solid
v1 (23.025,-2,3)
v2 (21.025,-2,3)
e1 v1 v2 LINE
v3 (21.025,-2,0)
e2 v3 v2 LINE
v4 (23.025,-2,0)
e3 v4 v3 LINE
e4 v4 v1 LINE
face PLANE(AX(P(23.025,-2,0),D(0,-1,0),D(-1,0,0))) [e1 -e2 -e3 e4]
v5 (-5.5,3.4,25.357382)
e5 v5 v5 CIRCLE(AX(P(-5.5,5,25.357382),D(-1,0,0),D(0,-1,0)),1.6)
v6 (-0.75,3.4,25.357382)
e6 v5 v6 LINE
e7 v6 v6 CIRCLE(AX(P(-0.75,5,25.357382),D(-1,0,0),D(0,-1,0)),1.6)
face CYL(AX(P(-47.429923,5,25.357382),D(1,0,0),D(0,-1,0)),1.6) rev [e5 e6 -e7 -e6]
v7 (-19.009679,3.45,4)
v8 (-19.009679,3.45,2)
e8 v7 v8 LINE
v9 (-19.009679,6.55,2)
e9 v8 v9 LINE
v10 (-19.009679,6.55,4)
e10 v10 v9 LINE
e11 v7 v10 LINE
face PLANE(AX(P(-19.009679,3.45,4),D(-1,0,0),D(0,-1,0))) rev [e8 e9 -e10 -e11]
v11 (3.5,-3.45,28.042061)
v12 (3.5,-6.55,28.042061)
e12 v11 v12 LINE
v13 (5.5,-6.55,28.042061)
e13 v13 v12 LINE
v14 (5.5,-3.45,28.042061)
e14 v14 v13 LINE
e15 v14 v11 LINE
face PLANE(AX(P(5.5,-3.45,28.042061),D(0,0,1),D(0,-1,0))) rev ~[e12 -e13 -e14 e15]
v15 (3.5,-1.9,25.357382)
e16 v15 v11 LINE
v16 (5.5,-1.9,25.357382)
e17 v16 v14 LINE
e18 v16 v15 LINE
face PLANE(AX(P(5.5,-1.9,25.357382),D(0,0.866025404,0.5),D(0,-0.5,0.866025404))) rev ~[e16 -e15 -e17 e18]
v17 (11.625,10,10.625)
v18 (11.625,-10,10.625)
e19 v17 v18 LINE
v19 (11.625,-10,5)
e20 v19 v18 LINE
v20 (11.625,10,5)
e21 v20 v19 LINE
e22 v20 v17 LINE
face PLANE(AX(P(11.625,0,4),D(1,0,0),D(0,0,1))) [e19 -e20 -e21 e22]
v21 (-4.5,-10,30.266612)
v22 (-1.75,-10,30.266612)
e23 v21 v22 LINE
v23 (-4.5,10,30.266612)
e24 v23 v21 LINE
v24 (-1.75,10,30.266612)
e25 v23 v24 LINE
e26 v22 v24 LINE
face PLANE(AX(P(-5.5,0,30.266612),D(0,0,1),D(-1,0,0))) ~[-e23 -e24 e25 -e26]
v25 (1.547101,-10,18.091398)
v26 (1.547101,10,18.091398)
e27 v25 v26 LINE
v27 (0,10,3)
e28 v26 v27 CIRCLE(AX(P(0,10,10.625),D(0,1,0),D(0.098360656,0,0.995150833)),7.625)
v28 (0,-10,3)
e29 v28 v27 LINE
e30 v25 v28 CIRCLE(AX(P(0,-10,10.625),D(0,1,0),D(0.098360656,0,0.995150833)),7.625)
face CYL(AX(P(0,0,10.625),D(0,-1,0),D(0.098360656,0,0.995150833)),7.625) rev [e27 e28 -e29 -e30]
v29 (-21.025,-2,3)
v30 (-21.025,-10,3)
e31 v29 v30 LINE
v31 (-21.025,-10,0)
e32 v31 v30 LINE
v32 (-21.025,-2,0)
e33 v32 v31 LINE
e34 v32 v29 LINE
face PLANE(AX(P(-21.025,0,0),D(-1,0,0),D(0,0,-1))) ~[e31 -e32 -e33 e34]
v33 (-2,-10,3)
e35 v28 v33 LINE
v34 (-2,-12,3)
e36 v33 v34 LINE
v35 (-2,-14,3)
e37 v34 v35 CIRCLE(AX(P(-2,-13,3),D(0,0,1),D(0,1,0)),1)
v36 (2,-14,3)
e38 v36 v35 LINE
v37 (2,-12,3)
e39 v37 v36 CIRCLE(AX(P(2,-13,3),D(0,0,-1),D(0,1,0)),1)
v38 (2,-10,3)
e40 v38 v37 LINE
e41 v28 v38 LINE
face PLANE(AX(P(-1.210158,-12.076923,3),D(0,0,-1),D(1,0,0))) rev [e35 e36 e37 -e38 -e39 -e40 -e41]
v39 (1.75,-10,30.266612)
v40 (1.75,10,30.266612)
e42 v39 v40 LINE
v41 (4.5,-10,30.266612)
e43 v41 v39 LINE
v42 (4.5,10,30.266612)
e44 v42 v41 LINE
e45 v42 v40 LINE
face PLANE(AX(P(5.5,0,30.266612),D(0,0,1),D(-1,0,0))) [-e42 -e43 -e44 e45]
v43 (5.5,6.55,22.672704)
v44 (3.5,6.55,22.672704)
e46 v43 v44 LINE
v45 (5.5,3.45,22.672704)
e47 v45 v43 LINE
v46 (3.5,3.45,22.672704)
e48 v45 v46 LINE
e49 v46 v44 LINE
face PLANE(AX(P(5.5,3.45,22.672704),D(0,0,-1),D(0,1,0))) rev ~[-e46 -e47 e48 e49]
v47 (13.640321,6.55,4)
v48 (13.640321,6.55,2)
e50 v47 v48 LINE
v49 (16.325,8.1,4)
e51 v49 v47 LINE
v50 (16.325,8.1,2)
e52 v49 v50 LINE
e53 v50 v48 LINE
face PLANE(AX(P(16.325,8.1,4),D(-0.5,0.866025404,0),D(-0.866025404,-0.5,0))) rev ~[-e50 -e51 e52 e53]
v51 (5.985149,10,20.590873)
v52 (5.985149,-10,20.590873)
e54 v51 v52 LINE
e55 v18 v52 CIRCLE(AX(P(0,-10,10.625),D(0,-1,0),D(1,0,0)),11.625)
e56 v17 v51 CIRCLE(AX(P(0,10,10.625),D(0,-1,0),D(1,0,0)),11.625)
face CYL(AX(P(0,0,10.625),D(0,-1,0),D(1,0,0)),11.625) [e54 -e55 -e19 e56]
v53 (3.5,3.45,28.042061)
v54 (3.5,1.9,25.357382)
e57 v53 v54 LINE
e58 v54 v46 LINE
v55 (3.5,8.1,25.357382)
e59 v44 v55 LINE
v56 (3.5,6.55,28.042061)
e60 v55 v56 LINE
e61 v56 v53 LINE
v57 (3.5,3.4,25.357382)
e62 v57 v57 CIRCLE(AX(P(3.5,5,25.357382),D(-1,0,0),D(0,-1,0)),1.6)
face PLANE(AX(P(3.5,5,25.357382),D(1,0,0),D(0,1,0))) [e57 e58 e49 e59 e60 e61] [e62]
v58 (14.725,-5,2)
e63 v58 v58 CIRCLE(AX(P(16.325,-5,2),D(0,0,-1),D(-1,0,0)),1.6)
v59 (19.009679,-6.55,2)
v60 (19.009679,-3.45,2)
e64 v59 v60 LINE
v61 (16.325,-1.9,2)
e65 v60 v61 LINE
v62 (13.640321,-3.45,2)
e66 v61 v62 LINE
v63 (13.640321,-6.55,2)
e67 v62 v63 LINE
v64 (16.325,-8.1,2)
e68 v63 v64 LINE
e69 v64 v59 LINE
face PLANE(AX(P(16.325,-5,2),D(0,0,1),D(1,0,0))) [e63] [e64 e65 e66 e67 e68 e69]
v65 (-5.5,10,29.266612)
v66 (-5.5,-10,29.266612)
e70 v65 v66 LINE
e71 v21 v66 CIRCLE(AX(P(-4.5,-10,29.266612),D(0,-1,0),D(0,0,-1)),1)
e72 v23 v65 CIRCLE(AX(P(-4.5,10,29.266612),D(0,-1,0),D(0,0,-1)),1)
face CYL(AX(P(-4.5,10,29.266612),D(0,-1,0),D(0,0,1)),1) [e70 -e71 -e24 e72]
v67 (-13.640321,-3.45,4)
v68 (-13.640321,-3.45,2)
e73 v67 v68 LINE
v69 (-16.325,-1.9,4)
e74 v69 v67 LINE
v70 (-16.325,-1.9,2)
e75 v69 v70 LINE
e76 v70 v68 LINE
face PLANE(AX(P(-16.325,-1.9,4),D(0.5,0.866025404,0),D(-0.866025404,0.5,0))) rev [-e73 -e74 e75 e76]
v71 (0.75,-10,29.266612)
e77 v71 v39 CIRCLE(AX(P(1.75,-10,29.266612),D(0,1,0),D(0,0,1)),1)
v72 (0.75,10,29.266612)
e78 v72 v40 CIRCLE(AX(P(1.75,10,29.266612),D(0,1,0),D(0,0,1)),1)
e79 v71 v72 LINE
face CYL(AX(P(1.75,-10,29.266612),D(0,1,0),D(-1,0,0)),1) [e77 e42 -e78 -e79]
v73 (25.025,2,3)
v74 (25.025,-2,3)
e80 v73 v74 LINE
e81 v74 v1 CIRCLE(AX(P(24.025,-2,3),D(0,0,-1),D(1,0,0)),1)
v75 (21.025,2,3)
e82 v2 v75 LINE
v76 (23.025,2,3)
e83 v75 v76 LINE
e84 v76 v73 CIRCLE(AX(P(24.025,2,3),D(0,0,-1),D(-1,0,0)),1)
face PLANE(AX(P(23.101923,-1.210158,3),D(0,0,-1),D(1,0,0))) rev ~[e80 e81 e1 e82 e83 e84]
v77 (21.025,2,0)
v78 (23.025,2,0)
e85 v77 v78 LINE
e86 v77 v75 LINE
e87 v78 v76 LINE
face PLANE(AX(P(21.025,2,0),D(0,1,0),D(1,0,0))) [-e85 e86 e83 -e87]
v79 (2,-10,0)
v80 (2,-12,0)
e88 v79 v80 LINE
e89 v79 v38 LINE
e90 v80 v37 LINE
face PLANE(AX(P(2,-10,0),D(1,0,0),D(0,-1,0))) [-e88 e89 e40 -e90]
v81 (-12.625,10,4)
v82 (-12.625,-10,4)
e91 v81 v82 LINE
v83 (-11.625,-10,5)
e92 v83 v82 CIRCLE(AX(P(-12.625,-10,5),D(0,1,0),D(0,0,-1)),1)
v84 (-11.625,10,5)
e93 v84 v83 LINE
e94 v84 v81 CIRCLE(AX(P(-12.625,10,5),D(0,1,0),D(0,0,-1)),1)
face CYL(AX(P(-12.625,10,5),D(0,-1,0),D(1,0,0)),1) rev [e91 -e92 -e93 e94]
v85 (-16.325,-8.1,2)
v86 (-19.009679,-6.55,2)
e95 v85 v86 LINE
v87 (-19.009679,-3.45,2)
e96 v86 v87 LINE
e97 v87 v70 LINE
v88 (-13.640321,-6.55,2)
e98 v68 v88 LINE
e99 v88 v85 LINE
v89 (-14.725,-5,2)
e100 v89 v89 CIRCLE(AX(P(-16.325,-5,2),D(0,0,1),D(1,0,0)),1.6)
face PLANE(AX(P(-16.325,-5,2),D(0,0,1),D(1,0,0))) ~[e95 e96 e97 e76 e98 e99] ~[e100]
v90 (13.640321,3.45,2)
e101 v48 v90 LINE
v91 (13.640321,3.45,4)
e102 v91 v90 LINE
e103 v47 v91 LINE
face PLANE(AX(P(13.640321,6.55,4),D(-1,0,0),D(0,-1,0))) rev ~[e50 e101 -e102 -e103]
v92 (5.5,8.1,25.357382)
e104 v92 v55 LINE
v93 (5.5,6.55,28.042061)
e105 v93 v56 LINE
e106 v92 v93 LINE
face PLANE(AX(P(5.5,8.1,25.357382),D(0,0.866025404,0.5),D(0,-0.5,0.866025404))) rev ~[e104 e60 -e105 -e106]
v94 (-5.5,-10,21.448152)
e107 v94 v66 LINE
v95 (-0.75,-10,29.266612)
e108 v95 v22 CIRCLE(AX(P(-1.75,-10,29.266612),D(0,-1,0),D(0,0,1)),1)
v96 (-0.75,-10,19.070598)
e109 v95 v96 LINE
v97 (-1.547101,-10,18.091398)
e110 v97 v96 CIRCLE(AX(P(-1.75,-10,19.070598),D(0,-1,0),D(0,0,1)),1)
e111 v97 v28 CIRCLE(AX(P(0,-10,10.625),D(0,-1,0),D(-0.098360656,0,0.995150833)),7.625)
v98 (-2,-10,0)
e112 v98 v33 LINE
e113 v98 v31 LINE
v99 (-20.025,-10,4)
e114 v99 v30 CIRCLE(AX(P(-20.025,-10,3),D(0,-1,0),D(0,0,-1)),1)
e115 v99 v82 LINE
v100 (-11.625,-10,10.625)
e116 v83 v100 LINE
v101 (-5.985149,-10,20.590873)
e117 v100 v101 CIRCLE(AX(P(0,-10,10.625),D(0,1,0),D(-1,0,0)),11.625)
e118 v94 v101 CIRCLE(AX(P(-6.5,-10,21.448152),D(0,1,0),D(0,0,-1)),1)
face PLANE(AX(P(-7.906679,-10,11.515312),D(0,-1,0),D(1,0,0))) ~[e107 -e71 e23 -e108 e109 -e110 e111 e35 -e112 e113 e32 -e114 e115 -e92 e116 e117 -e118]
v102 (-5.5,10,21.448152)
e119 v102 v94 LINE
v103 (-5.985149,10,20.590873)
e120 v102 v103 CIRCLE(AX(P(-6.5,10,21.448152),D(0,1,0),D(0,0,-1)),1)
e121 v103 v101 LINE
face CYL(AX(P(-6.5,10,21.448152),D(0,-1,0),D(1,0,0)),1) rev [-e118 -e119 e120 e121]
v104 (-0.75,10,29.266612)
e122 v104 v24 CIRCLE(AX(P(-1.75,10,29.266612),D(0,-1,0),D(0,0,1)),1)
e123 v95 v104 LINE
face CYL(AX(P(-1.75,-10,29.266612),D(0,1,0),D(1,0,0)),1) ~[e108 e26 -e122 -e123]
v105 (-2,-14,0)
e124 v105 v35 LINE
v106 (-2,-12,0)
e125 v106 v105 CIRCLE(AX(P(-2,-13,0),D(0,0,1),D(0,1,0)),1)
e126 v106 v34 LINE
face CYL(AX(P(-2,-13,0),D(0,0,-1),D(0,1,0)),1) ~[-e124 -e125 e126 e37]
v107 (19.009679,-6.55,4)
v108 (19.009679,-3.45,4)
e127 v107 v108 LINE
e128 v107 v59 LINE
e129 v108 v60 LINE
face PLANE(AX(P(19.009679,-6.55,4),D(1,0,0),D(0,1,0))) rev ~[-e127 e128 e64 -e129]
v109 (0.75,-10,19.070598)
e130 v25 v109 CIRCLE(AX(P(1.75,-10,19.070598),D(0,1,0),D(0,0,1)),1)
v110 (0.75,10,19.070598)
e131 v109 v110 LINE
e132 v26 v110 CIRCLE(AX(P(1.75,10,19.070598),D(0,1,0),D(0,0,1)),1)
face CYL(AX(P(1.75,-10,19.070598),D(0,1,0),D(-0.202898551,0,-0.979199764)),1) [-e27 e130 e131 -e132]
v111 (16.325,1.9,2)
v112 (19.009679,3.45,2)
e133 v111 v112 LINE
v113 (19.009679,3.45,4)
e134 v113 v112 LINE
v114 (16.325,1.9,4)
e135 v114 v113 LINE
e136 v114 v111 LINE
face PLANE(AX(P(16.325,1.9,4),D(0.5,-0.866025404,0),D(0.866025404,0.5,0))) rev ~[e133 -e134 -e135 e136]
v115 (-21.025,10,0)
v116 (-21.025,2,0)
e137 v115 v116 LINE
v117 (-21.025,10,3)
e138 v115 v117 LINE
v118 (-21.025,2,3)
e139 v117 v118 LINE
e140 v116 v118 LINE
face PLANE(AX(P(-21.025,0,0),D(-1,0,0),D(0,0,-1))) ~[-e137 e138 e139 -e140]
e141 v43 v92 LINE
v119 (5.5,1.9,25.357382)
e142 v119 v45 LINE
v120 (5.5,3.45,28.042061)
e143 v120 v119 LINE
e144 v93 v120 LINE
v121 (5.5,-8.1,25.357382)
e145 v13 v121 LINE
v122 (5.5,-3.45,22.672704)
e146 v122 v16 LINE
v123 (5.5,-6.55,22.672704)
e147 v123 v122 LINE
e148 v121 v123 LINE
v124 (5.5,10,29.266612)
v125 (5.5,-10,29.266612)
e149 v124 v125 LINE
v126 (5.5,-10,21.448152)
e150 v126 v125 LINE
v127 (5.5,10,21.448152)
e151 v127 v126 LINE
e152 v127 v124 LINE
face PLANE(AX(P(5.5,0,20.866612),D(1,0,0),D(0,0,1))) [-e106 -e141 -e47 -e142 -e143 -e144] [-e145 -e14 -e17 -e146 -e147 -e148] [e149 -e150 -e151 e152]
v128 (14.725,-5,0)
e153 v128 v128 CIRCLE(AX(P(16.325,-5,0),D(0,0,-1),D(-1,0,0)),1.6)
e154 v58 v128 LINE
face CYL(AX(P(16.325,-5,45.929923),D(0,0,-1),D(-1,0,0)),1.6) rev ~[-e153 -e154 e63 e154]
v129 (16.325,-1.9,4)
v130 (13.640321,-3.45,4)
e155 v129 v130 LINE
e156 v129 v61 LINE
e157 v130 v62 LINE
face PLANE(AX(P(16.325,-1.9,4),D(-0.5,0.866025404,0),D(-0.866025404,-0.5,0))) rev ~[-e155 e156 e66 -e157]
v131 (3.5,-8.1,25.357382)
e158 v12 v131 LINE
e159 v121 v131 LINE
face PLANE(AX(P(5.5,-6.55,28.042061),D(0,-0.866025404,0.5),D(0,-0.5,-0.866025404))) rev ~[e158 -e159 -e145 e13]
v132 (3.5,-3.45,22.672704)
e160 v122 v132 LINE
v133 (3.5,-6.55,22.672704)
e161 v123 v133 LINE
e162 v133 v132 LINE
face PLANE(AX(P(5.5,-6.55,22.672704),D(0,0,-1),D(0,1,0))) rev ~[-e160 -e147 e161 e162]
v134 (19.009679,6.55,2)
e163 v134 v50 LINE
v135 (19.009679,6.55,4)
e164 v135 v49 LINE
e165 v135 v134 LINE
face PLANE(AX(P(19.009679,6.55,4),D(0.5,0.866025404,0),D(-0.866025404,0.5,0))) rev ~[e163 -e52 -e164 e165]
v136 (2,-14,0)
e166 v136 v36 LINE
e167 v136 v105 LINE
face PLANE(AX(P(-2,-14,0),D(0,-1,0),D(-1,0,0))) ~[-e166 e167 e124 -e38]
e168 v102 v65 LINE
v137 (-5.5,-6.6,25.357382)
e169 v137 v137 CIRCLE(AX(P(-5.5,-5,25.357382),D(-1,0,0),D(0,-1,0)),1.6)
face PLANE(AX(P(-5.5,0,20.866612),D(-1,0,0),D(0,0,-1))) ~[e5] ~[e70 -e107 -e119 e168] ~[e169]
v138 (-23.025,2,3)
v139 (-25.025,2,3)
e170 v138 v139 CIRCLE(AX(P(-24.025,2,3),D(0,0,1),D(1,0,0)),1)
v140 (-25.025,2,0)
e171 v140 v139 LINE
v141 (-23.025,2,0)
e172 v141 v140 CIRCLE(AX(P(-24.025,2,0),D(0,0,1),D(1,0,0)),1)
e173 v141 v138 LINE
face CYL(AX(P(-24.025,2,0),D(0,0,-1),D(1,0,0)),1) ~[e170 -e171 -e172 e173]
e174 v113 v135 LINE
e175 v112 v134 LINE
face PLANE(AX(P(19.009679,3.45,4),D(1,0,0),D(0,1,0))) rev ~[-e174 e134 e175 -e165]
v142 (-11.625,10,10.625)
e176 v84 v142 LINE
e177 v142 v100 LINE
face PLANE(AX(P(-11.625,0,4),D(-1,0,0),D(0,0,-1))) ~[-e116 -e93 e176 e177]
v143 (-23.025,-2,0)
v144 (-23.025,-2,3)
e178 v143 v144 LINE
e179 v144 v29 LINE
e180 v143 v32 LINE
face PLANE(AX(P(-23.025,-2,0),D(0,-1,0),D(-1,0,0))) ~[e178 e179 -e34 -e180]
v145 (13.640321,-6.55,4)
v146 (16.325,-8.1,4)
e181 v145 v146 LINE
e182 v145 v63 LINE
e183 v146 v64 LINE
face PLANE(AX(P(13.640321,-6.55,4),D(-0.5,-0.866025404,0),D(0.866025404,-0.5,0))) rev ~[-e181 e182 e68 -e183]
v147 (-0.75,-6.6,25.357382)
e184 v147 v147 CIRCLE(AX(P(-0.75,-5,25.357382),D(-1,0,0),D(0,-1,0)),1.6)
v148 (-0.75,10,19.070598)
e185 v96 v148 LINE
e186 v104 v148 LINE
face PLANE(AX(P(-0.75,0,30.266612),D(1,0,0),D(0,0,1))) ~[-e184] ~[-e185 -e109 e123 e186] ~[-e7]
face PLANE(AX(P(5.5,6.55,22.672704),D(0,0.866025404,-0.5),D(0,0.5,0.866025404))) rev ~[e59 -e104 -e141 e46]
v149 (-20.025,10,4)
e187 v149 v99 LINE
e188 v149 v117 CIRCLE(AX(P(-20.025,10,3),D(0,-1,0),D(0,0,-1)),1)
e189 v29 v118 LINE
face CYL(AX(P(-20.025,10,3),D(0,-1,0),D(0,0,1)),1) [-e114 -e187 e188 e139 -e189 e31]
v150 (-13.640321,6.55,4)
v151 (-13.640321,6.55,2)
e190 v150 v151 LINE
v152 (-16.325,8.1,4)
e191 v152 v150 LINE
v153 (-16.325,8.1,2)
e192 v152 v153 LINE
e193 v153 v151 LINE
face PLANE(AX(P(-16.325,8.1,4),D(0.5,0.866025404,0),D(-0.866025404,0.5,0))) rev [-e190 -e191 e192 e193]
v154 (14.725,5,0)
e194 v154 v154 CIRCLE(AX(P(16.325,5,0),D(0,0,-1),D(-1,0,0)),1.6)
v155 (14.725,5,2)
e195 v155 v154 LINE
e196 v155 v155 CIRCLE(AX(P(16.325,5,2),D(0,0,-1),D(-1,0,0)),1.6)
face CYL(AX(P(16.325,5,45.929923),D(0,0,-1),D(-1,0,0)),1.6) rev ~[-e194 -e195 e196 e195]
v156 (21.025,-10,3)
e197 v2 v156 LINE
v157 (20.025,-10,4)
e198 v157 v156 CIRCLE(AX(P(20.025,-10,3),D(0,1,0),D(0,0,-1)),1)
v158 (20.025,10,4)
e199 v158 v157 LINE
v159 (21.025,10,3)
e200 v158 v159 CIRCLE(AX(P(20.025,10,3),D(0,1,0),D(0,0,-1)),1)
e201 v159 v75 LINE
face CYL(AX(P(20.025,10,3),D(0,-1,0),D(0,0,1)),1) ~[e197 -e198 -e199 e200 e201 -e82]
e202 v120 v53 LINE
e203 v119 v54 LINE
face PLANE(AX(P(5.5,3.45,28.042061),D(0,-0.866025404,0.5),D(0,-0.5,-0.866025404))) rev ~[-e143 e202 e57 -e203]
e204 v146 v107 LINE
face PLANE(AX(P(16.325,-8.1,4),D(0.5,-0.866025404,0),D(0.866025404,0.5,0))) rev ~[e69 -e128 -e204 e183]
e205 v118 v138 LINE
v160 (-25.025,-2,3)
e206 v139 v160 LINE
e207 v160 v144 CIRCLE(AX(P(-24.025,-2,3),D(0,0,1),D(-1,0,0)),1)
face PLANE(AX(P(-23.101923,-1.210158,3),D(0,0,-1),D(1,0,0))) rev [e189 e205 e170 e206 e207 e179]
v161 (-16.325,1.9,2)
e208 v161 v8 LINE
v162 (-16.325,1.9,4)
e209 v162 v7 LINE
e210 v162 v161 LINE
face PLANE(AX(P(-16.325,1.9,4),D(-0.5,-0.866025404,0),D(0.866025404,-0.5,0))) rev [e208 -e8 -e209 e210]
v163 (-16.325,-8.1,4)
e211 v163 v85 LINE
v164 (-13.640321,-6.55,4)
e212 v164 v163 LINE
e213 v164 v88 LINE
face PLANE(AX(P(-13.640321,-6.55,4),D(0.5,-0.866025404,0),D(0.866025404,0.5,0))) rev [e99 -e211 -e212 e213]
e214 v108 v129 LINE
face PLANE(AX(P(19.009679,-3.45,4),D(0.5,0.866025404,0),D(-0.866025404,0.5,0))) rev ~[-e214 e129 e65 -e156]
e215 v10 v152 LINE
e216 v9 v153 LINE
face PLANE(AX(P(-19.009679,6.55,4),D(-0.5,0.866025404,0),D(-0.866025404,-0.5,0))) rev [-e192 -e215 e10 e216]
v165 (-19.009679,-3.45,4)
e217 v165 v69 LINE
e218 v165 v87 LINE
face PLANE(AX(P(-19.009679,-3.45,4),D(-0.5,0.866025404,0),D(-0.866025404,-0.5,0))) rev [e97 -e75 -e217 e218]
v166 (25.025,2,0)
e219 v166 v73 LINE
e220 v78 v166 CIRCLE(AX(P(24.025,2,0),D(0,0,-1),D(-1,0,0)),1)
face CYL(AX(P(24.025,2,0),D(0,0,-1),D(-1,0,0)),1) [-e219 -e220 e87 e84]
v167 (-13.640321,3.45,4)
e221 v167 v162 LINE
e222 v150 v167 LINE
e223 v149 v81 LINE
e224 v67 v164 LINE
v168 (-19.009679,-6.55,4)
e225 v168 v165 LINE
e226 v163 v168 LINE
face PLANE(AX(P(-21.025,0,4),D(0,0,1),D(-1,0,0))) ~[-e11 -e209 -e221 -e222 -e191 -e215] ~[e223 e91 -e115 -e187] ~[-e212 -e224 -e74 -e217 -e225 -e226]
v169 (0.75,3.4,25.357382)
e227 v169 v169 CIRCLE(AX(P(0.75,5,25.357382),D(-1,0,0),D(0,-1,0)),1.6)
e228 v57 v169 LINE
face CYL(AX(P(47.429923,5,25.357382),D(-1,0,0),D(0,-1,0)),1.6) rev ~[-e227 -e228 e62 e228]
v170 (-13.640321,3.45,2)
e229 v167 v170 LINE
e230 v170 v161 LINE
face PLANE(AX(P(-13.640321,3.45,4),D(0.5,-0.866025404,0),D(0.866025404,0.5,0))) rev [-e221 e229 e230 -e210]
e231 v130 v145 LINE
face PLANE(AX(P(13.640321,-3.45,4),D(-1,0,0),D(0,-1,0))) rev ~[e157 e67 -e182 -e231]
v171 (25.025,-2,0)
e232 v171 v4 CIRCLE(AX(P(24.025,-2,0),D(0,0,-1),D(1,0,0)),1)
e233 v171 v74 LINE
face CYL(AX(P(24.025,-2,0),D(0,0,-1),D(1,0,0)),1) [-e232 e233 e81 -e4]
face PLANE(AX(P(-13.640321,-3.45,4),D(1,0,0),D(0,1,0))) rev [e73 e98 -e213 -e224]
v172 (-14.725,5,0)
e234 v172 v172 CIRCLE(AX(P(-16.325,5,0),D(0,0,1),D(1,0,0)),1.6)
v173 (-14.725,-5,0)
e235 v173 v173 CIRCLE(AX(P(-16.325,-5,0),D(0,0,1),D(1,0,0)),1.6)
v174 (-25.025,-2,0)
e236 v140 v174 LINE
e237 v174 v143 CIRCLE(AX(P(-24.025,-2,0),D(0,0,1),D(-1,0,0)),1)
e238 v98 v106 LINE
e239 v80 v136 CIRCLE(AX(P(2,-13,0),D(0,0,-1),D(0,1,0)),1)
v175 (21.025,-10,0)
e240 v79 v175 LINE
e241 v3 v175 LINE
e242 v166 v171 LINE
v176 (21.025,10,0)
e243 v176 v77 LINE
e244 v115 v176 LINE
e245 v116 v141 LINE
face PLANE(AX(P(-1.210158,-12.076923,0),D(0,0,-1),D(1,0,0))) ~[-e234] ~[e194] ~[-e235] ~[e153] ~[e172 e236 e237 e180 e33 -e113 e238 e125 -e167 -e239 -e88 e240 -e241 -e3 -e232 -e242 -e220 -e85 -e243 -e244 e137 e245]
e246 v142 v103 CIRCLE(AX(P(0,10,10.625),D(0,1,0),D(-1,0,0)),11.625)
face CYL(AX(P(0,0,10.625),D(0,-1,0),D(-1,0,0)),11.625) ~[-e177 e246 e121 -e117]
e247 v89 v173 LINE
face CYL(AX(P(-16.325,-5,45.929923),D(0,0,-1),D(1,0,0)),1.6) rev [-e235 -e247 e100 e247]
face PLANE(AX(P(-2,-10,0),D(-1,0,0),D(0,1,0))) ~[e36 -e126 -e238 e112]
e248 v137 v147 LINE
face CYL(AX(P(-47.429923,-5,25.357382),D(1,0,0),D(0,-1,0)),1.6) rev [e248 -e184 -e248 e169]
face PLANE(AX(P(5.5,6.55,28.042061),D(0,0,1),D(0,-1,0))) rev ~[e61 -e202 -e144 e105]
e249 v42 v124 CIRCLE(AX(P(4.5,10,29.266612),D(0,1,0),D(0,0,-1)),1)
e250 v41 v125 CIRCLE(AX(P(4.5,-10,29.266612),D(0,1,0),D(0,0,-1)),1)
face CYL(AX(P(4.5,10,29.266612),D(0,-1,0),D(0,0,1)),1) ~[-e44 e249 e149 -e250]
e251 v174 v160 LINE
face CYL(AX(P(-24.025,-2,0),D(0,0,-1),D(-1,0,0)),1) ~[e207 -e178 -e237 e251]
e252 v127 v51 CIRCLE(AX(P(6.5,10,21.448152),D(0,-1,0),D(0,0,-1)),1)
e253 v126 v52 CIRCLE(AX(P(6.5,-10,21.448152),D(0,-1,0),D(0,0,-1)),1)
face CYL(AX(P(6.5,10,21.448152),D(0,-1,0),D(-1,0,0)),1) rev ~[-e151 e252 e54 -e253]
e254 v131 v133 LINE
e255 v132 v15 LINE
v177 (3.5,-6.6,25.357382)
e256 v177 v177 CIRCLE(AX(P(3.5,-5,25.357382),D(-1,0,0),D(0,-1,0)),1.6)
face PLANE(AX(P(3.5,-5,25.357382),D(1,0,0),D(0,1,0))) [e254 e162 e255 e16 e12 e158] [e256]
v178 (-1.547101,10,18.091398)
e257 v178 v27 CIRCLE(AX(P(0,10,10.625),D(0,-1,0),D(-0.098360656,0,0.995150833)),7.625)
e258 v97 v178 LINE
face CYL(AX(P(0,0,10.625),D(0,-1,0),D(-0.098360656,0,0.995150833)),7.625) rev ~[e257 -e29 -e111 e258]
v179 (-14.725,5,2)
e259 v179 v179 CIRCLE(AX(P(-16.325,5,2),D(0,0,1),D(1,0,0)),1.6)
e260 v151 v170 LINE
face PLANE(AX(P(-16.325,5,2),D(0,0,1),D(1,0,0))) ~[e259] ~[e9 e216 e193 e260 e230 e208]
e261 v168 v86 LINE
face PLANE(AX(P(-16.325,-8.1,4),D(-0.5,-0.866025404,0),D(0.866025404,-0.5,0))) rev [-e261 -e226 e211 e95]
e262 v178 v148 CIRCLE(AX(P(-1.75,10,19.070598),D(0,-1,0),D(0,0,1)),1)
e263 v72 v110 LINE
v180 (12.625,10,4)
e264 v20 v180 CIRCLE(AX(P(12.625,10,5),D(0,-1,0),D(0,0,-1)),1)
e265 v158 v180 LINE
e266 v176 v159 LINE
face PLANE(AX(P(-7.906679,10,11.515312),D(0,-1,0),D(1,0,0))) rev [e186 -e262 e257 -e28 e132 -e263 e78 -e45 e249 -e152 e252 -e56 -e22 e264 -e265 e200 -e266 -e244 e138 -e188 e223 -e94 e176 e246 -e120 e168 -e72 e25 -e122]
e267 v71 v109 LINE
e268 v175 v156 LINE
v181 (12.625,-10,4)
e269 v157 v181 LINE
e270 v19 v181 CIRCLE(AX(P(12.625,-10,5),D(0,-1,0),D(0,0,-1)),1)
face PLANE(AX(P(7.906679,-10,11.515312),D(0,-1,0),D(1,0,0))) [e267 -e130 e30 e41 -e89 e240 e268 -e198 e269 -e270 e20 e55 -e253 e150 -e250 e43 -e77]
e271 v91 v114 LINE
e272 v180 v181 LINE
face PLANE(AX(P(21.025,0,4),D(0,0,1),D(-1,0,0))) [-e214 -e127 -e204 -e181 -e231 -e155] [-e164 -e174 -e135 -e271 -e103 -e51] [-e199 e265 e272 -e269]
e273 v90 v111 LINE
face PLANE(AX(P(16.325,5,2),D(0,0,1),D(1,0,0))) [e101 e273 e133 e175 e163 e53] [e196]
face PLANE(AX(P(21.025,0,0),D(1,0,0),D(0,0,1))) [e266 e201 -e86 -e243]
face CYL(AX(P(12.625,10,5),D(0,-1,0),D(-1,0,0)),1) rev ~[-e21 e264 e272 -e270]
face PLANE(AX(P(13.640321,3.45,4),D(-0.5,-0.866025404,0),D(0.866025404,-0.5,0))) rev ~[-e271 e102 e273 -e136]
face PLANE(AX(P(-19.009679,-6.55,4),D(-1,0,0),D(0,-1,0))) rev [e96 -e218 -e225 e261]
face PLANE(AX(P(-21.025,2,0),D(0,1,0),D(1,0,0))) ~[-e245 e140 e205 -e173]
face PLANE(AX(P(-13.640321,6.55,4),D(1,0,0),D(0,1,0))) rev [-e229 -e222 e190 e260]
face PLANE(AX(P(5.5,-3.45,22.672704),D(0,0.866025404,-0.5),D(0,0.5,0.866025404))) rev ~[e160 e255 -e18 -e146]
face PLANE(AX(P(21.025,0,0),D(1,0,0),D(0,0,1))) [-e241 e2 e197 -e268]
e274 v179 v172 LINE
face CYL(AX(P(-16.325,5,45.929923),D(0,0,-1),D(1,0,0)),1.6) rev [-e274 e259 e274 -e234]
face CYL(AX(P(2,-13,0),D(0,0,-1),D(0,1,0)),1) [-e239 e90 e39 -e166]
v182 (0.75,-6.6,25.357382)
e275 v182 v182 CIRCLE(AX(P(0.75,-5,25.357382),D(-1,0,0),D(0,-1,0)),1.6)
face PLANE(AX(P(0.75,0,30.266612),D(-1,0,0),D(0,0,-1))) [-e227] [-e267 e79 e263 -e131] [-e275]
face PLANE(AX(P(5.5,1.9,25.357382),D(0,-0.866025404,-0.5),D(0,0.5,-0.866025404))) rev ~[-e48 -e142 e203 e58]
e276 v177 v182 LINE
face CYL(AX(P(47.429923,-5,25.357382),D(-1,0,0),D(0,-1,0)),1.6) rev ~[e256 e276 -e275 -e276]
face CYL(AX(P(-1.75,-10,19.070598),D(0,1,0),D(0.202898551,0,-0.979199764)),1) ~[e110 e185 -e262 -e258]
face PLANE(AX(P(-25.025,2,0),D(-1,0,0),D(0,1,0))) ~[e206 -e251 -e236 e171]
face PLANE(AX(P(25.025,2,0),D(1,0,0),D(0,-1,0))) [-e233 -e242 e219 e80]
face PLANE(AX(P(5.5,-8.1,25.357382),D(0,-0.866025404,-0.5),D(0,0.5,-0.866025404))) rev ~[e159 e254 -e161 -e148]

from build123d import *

# Parameters (mm, degrees)
F7_DEPTH  = 10
F8_R      = 1
F10_D     = 3.2
F12_D     = 3.2
F13_DEPTH = 2
F15_DEPTH = 3
F17_DEPTH = 2


with BuildPart() as f7:
    # F6 (on Front) → F7 (new body, symmetric)
    with BuildSketch(Plane.XZ):
        with BuildLine():
            Line((0, 3), (0, 0))
            Line((0, 0), (21.025, 0))
            Line((21.025, 0), (21.025, 4))
            Line((21.025, 4), (11.625, 4))
            Line((11.625, 4), (11.625, 10.625))
            ThreePointArc((11.625, 10.625), (9.9769265057, 16.5917044924), (5.5, 20.8666124219))
            Line((5.5, 20.8666124219), (5.5, 30.2666124219))
            Line((5.5, 30.2666124219), (0.75, 30.2666124219))
            Line((0.75, 30.2666124219), (0.75, 18.2130251054))
            ThreePointArc((0.75, 18.2130251054), (7.6157506665, 10.2495445623), (0, 3))
        make_face()
    extrude(amount=F7_DEPTH, both=True)

    # F8
    f8_edges = [f7.edges().sort_by_distance(p)[0] for p in [
        (0.75, 0, 18.213025),
        (5.5, 0, 30.266612),
        (5.5, 0, 20.866612),
        (11.625, 0, 4),
        (11.625, 0, 10.625),
        (21.025, 0, 4),
        (0.75, 0, 30.266612),
    ]]
    fillet(f8_edges, radius=F8_R)

    # F10 (through all)
    with Locations(Plane.YZ.offset(5.5)):
        with Locations((-5, 25.3573823446), (5, 25.3573823446)):
            Hole(F10_D / 2)

    # F12 (through all)
    with Locations(Plane.XY.offset(4)):
        with Locations((16.325, 5), (16.325, -5)):
            Hole(F12_D / 2)

    # F11 (on face) → F13 (cut)
    with BuildSketch(Plane.XY.offset(4)):
        Polygon((16.325, 8.1), (13.6403212483, 6.55), (13.6403212483, 3.45), (16.325, 1.9), (19.0096787517, 3.45), (19.0096787517, 6.55), align=None)
        Polygon((16.325, -1.9), (13.6403212483, -3.45), (13.6403212483, -6.55), (16.325, -8.1), (19.0096787517, -6.55), (19.0096787517, -3.45), align=None)
    extrude(amount=-F13_DEPTH, mode=Mode.SUBTRACT)

    # F14 (on face) → F15 (join)
    with BuildSketch(Plane(origin=(0, 0, 0), x_dir=(1, 0, 0), z_dir=(0, 0, -1))):
        with BuildLine():
            Line((0, 14), (0, 10))
            Line((0, 10), (2, 10))
            Line((2, 10), (2, 12))
            ThreePointArc((2, 12), (3, 13), (2, 14))
            Line((2, 14), (0, 14))
        make_face()
        with BuildLine():
            Line((21.025, 2), (21.025, 0))
            Line((21.025, 0), (25.025, 0))
            Line((25.025, 0), (25.025, 2))
            ThreePointArc((25.025, 2), (24.025, 3), (23.025, 2))
            Line((23.025, 2), (21.025, 2))
        make_face()
        with BuildLine():
            Line((25.025, 0), (21.025, 0))
            Line((21.025, 0), (21.025, -2))
            Line((21.025, -2), (23.025, -2))
            ThreePointArc((23.025, -2), (24.025, -3), (25.025, -2))
            Line((25.025, -2), (25.025, 0))
        make_face()
    extrude(amount=-F15_DEPTH)

    # F16: F7 across plane


with BuildPart() as f7_1:
    add(f7.part)
    add(f7.part.mirror(Plane.YZ))

    # F9 (on face) → F17 (cut)
    with BuildSketch(Plane.YZ.offset(5.5)):
        Polygon((-1.9, 25.3573823446), (-3.45, 28.0420610963), (-6.55, 28.0420610963), (-8.1, 25.3573823446), (-6.55, 22.6727035928), (-3.45, 22.6727035928), align=None)
        Polygon((6.55, 28.0420610963), (3.45, 28.0420610963), (1.9, 25.3573823446), (3.45, 22.6727035928), (6.55, 22.6727035928), (8.1, 25.3573823446), align=None)
    extrude(amount=-F17_DEPTH, mode=Mode.SUBTRACT)


solid = f7_1.part
